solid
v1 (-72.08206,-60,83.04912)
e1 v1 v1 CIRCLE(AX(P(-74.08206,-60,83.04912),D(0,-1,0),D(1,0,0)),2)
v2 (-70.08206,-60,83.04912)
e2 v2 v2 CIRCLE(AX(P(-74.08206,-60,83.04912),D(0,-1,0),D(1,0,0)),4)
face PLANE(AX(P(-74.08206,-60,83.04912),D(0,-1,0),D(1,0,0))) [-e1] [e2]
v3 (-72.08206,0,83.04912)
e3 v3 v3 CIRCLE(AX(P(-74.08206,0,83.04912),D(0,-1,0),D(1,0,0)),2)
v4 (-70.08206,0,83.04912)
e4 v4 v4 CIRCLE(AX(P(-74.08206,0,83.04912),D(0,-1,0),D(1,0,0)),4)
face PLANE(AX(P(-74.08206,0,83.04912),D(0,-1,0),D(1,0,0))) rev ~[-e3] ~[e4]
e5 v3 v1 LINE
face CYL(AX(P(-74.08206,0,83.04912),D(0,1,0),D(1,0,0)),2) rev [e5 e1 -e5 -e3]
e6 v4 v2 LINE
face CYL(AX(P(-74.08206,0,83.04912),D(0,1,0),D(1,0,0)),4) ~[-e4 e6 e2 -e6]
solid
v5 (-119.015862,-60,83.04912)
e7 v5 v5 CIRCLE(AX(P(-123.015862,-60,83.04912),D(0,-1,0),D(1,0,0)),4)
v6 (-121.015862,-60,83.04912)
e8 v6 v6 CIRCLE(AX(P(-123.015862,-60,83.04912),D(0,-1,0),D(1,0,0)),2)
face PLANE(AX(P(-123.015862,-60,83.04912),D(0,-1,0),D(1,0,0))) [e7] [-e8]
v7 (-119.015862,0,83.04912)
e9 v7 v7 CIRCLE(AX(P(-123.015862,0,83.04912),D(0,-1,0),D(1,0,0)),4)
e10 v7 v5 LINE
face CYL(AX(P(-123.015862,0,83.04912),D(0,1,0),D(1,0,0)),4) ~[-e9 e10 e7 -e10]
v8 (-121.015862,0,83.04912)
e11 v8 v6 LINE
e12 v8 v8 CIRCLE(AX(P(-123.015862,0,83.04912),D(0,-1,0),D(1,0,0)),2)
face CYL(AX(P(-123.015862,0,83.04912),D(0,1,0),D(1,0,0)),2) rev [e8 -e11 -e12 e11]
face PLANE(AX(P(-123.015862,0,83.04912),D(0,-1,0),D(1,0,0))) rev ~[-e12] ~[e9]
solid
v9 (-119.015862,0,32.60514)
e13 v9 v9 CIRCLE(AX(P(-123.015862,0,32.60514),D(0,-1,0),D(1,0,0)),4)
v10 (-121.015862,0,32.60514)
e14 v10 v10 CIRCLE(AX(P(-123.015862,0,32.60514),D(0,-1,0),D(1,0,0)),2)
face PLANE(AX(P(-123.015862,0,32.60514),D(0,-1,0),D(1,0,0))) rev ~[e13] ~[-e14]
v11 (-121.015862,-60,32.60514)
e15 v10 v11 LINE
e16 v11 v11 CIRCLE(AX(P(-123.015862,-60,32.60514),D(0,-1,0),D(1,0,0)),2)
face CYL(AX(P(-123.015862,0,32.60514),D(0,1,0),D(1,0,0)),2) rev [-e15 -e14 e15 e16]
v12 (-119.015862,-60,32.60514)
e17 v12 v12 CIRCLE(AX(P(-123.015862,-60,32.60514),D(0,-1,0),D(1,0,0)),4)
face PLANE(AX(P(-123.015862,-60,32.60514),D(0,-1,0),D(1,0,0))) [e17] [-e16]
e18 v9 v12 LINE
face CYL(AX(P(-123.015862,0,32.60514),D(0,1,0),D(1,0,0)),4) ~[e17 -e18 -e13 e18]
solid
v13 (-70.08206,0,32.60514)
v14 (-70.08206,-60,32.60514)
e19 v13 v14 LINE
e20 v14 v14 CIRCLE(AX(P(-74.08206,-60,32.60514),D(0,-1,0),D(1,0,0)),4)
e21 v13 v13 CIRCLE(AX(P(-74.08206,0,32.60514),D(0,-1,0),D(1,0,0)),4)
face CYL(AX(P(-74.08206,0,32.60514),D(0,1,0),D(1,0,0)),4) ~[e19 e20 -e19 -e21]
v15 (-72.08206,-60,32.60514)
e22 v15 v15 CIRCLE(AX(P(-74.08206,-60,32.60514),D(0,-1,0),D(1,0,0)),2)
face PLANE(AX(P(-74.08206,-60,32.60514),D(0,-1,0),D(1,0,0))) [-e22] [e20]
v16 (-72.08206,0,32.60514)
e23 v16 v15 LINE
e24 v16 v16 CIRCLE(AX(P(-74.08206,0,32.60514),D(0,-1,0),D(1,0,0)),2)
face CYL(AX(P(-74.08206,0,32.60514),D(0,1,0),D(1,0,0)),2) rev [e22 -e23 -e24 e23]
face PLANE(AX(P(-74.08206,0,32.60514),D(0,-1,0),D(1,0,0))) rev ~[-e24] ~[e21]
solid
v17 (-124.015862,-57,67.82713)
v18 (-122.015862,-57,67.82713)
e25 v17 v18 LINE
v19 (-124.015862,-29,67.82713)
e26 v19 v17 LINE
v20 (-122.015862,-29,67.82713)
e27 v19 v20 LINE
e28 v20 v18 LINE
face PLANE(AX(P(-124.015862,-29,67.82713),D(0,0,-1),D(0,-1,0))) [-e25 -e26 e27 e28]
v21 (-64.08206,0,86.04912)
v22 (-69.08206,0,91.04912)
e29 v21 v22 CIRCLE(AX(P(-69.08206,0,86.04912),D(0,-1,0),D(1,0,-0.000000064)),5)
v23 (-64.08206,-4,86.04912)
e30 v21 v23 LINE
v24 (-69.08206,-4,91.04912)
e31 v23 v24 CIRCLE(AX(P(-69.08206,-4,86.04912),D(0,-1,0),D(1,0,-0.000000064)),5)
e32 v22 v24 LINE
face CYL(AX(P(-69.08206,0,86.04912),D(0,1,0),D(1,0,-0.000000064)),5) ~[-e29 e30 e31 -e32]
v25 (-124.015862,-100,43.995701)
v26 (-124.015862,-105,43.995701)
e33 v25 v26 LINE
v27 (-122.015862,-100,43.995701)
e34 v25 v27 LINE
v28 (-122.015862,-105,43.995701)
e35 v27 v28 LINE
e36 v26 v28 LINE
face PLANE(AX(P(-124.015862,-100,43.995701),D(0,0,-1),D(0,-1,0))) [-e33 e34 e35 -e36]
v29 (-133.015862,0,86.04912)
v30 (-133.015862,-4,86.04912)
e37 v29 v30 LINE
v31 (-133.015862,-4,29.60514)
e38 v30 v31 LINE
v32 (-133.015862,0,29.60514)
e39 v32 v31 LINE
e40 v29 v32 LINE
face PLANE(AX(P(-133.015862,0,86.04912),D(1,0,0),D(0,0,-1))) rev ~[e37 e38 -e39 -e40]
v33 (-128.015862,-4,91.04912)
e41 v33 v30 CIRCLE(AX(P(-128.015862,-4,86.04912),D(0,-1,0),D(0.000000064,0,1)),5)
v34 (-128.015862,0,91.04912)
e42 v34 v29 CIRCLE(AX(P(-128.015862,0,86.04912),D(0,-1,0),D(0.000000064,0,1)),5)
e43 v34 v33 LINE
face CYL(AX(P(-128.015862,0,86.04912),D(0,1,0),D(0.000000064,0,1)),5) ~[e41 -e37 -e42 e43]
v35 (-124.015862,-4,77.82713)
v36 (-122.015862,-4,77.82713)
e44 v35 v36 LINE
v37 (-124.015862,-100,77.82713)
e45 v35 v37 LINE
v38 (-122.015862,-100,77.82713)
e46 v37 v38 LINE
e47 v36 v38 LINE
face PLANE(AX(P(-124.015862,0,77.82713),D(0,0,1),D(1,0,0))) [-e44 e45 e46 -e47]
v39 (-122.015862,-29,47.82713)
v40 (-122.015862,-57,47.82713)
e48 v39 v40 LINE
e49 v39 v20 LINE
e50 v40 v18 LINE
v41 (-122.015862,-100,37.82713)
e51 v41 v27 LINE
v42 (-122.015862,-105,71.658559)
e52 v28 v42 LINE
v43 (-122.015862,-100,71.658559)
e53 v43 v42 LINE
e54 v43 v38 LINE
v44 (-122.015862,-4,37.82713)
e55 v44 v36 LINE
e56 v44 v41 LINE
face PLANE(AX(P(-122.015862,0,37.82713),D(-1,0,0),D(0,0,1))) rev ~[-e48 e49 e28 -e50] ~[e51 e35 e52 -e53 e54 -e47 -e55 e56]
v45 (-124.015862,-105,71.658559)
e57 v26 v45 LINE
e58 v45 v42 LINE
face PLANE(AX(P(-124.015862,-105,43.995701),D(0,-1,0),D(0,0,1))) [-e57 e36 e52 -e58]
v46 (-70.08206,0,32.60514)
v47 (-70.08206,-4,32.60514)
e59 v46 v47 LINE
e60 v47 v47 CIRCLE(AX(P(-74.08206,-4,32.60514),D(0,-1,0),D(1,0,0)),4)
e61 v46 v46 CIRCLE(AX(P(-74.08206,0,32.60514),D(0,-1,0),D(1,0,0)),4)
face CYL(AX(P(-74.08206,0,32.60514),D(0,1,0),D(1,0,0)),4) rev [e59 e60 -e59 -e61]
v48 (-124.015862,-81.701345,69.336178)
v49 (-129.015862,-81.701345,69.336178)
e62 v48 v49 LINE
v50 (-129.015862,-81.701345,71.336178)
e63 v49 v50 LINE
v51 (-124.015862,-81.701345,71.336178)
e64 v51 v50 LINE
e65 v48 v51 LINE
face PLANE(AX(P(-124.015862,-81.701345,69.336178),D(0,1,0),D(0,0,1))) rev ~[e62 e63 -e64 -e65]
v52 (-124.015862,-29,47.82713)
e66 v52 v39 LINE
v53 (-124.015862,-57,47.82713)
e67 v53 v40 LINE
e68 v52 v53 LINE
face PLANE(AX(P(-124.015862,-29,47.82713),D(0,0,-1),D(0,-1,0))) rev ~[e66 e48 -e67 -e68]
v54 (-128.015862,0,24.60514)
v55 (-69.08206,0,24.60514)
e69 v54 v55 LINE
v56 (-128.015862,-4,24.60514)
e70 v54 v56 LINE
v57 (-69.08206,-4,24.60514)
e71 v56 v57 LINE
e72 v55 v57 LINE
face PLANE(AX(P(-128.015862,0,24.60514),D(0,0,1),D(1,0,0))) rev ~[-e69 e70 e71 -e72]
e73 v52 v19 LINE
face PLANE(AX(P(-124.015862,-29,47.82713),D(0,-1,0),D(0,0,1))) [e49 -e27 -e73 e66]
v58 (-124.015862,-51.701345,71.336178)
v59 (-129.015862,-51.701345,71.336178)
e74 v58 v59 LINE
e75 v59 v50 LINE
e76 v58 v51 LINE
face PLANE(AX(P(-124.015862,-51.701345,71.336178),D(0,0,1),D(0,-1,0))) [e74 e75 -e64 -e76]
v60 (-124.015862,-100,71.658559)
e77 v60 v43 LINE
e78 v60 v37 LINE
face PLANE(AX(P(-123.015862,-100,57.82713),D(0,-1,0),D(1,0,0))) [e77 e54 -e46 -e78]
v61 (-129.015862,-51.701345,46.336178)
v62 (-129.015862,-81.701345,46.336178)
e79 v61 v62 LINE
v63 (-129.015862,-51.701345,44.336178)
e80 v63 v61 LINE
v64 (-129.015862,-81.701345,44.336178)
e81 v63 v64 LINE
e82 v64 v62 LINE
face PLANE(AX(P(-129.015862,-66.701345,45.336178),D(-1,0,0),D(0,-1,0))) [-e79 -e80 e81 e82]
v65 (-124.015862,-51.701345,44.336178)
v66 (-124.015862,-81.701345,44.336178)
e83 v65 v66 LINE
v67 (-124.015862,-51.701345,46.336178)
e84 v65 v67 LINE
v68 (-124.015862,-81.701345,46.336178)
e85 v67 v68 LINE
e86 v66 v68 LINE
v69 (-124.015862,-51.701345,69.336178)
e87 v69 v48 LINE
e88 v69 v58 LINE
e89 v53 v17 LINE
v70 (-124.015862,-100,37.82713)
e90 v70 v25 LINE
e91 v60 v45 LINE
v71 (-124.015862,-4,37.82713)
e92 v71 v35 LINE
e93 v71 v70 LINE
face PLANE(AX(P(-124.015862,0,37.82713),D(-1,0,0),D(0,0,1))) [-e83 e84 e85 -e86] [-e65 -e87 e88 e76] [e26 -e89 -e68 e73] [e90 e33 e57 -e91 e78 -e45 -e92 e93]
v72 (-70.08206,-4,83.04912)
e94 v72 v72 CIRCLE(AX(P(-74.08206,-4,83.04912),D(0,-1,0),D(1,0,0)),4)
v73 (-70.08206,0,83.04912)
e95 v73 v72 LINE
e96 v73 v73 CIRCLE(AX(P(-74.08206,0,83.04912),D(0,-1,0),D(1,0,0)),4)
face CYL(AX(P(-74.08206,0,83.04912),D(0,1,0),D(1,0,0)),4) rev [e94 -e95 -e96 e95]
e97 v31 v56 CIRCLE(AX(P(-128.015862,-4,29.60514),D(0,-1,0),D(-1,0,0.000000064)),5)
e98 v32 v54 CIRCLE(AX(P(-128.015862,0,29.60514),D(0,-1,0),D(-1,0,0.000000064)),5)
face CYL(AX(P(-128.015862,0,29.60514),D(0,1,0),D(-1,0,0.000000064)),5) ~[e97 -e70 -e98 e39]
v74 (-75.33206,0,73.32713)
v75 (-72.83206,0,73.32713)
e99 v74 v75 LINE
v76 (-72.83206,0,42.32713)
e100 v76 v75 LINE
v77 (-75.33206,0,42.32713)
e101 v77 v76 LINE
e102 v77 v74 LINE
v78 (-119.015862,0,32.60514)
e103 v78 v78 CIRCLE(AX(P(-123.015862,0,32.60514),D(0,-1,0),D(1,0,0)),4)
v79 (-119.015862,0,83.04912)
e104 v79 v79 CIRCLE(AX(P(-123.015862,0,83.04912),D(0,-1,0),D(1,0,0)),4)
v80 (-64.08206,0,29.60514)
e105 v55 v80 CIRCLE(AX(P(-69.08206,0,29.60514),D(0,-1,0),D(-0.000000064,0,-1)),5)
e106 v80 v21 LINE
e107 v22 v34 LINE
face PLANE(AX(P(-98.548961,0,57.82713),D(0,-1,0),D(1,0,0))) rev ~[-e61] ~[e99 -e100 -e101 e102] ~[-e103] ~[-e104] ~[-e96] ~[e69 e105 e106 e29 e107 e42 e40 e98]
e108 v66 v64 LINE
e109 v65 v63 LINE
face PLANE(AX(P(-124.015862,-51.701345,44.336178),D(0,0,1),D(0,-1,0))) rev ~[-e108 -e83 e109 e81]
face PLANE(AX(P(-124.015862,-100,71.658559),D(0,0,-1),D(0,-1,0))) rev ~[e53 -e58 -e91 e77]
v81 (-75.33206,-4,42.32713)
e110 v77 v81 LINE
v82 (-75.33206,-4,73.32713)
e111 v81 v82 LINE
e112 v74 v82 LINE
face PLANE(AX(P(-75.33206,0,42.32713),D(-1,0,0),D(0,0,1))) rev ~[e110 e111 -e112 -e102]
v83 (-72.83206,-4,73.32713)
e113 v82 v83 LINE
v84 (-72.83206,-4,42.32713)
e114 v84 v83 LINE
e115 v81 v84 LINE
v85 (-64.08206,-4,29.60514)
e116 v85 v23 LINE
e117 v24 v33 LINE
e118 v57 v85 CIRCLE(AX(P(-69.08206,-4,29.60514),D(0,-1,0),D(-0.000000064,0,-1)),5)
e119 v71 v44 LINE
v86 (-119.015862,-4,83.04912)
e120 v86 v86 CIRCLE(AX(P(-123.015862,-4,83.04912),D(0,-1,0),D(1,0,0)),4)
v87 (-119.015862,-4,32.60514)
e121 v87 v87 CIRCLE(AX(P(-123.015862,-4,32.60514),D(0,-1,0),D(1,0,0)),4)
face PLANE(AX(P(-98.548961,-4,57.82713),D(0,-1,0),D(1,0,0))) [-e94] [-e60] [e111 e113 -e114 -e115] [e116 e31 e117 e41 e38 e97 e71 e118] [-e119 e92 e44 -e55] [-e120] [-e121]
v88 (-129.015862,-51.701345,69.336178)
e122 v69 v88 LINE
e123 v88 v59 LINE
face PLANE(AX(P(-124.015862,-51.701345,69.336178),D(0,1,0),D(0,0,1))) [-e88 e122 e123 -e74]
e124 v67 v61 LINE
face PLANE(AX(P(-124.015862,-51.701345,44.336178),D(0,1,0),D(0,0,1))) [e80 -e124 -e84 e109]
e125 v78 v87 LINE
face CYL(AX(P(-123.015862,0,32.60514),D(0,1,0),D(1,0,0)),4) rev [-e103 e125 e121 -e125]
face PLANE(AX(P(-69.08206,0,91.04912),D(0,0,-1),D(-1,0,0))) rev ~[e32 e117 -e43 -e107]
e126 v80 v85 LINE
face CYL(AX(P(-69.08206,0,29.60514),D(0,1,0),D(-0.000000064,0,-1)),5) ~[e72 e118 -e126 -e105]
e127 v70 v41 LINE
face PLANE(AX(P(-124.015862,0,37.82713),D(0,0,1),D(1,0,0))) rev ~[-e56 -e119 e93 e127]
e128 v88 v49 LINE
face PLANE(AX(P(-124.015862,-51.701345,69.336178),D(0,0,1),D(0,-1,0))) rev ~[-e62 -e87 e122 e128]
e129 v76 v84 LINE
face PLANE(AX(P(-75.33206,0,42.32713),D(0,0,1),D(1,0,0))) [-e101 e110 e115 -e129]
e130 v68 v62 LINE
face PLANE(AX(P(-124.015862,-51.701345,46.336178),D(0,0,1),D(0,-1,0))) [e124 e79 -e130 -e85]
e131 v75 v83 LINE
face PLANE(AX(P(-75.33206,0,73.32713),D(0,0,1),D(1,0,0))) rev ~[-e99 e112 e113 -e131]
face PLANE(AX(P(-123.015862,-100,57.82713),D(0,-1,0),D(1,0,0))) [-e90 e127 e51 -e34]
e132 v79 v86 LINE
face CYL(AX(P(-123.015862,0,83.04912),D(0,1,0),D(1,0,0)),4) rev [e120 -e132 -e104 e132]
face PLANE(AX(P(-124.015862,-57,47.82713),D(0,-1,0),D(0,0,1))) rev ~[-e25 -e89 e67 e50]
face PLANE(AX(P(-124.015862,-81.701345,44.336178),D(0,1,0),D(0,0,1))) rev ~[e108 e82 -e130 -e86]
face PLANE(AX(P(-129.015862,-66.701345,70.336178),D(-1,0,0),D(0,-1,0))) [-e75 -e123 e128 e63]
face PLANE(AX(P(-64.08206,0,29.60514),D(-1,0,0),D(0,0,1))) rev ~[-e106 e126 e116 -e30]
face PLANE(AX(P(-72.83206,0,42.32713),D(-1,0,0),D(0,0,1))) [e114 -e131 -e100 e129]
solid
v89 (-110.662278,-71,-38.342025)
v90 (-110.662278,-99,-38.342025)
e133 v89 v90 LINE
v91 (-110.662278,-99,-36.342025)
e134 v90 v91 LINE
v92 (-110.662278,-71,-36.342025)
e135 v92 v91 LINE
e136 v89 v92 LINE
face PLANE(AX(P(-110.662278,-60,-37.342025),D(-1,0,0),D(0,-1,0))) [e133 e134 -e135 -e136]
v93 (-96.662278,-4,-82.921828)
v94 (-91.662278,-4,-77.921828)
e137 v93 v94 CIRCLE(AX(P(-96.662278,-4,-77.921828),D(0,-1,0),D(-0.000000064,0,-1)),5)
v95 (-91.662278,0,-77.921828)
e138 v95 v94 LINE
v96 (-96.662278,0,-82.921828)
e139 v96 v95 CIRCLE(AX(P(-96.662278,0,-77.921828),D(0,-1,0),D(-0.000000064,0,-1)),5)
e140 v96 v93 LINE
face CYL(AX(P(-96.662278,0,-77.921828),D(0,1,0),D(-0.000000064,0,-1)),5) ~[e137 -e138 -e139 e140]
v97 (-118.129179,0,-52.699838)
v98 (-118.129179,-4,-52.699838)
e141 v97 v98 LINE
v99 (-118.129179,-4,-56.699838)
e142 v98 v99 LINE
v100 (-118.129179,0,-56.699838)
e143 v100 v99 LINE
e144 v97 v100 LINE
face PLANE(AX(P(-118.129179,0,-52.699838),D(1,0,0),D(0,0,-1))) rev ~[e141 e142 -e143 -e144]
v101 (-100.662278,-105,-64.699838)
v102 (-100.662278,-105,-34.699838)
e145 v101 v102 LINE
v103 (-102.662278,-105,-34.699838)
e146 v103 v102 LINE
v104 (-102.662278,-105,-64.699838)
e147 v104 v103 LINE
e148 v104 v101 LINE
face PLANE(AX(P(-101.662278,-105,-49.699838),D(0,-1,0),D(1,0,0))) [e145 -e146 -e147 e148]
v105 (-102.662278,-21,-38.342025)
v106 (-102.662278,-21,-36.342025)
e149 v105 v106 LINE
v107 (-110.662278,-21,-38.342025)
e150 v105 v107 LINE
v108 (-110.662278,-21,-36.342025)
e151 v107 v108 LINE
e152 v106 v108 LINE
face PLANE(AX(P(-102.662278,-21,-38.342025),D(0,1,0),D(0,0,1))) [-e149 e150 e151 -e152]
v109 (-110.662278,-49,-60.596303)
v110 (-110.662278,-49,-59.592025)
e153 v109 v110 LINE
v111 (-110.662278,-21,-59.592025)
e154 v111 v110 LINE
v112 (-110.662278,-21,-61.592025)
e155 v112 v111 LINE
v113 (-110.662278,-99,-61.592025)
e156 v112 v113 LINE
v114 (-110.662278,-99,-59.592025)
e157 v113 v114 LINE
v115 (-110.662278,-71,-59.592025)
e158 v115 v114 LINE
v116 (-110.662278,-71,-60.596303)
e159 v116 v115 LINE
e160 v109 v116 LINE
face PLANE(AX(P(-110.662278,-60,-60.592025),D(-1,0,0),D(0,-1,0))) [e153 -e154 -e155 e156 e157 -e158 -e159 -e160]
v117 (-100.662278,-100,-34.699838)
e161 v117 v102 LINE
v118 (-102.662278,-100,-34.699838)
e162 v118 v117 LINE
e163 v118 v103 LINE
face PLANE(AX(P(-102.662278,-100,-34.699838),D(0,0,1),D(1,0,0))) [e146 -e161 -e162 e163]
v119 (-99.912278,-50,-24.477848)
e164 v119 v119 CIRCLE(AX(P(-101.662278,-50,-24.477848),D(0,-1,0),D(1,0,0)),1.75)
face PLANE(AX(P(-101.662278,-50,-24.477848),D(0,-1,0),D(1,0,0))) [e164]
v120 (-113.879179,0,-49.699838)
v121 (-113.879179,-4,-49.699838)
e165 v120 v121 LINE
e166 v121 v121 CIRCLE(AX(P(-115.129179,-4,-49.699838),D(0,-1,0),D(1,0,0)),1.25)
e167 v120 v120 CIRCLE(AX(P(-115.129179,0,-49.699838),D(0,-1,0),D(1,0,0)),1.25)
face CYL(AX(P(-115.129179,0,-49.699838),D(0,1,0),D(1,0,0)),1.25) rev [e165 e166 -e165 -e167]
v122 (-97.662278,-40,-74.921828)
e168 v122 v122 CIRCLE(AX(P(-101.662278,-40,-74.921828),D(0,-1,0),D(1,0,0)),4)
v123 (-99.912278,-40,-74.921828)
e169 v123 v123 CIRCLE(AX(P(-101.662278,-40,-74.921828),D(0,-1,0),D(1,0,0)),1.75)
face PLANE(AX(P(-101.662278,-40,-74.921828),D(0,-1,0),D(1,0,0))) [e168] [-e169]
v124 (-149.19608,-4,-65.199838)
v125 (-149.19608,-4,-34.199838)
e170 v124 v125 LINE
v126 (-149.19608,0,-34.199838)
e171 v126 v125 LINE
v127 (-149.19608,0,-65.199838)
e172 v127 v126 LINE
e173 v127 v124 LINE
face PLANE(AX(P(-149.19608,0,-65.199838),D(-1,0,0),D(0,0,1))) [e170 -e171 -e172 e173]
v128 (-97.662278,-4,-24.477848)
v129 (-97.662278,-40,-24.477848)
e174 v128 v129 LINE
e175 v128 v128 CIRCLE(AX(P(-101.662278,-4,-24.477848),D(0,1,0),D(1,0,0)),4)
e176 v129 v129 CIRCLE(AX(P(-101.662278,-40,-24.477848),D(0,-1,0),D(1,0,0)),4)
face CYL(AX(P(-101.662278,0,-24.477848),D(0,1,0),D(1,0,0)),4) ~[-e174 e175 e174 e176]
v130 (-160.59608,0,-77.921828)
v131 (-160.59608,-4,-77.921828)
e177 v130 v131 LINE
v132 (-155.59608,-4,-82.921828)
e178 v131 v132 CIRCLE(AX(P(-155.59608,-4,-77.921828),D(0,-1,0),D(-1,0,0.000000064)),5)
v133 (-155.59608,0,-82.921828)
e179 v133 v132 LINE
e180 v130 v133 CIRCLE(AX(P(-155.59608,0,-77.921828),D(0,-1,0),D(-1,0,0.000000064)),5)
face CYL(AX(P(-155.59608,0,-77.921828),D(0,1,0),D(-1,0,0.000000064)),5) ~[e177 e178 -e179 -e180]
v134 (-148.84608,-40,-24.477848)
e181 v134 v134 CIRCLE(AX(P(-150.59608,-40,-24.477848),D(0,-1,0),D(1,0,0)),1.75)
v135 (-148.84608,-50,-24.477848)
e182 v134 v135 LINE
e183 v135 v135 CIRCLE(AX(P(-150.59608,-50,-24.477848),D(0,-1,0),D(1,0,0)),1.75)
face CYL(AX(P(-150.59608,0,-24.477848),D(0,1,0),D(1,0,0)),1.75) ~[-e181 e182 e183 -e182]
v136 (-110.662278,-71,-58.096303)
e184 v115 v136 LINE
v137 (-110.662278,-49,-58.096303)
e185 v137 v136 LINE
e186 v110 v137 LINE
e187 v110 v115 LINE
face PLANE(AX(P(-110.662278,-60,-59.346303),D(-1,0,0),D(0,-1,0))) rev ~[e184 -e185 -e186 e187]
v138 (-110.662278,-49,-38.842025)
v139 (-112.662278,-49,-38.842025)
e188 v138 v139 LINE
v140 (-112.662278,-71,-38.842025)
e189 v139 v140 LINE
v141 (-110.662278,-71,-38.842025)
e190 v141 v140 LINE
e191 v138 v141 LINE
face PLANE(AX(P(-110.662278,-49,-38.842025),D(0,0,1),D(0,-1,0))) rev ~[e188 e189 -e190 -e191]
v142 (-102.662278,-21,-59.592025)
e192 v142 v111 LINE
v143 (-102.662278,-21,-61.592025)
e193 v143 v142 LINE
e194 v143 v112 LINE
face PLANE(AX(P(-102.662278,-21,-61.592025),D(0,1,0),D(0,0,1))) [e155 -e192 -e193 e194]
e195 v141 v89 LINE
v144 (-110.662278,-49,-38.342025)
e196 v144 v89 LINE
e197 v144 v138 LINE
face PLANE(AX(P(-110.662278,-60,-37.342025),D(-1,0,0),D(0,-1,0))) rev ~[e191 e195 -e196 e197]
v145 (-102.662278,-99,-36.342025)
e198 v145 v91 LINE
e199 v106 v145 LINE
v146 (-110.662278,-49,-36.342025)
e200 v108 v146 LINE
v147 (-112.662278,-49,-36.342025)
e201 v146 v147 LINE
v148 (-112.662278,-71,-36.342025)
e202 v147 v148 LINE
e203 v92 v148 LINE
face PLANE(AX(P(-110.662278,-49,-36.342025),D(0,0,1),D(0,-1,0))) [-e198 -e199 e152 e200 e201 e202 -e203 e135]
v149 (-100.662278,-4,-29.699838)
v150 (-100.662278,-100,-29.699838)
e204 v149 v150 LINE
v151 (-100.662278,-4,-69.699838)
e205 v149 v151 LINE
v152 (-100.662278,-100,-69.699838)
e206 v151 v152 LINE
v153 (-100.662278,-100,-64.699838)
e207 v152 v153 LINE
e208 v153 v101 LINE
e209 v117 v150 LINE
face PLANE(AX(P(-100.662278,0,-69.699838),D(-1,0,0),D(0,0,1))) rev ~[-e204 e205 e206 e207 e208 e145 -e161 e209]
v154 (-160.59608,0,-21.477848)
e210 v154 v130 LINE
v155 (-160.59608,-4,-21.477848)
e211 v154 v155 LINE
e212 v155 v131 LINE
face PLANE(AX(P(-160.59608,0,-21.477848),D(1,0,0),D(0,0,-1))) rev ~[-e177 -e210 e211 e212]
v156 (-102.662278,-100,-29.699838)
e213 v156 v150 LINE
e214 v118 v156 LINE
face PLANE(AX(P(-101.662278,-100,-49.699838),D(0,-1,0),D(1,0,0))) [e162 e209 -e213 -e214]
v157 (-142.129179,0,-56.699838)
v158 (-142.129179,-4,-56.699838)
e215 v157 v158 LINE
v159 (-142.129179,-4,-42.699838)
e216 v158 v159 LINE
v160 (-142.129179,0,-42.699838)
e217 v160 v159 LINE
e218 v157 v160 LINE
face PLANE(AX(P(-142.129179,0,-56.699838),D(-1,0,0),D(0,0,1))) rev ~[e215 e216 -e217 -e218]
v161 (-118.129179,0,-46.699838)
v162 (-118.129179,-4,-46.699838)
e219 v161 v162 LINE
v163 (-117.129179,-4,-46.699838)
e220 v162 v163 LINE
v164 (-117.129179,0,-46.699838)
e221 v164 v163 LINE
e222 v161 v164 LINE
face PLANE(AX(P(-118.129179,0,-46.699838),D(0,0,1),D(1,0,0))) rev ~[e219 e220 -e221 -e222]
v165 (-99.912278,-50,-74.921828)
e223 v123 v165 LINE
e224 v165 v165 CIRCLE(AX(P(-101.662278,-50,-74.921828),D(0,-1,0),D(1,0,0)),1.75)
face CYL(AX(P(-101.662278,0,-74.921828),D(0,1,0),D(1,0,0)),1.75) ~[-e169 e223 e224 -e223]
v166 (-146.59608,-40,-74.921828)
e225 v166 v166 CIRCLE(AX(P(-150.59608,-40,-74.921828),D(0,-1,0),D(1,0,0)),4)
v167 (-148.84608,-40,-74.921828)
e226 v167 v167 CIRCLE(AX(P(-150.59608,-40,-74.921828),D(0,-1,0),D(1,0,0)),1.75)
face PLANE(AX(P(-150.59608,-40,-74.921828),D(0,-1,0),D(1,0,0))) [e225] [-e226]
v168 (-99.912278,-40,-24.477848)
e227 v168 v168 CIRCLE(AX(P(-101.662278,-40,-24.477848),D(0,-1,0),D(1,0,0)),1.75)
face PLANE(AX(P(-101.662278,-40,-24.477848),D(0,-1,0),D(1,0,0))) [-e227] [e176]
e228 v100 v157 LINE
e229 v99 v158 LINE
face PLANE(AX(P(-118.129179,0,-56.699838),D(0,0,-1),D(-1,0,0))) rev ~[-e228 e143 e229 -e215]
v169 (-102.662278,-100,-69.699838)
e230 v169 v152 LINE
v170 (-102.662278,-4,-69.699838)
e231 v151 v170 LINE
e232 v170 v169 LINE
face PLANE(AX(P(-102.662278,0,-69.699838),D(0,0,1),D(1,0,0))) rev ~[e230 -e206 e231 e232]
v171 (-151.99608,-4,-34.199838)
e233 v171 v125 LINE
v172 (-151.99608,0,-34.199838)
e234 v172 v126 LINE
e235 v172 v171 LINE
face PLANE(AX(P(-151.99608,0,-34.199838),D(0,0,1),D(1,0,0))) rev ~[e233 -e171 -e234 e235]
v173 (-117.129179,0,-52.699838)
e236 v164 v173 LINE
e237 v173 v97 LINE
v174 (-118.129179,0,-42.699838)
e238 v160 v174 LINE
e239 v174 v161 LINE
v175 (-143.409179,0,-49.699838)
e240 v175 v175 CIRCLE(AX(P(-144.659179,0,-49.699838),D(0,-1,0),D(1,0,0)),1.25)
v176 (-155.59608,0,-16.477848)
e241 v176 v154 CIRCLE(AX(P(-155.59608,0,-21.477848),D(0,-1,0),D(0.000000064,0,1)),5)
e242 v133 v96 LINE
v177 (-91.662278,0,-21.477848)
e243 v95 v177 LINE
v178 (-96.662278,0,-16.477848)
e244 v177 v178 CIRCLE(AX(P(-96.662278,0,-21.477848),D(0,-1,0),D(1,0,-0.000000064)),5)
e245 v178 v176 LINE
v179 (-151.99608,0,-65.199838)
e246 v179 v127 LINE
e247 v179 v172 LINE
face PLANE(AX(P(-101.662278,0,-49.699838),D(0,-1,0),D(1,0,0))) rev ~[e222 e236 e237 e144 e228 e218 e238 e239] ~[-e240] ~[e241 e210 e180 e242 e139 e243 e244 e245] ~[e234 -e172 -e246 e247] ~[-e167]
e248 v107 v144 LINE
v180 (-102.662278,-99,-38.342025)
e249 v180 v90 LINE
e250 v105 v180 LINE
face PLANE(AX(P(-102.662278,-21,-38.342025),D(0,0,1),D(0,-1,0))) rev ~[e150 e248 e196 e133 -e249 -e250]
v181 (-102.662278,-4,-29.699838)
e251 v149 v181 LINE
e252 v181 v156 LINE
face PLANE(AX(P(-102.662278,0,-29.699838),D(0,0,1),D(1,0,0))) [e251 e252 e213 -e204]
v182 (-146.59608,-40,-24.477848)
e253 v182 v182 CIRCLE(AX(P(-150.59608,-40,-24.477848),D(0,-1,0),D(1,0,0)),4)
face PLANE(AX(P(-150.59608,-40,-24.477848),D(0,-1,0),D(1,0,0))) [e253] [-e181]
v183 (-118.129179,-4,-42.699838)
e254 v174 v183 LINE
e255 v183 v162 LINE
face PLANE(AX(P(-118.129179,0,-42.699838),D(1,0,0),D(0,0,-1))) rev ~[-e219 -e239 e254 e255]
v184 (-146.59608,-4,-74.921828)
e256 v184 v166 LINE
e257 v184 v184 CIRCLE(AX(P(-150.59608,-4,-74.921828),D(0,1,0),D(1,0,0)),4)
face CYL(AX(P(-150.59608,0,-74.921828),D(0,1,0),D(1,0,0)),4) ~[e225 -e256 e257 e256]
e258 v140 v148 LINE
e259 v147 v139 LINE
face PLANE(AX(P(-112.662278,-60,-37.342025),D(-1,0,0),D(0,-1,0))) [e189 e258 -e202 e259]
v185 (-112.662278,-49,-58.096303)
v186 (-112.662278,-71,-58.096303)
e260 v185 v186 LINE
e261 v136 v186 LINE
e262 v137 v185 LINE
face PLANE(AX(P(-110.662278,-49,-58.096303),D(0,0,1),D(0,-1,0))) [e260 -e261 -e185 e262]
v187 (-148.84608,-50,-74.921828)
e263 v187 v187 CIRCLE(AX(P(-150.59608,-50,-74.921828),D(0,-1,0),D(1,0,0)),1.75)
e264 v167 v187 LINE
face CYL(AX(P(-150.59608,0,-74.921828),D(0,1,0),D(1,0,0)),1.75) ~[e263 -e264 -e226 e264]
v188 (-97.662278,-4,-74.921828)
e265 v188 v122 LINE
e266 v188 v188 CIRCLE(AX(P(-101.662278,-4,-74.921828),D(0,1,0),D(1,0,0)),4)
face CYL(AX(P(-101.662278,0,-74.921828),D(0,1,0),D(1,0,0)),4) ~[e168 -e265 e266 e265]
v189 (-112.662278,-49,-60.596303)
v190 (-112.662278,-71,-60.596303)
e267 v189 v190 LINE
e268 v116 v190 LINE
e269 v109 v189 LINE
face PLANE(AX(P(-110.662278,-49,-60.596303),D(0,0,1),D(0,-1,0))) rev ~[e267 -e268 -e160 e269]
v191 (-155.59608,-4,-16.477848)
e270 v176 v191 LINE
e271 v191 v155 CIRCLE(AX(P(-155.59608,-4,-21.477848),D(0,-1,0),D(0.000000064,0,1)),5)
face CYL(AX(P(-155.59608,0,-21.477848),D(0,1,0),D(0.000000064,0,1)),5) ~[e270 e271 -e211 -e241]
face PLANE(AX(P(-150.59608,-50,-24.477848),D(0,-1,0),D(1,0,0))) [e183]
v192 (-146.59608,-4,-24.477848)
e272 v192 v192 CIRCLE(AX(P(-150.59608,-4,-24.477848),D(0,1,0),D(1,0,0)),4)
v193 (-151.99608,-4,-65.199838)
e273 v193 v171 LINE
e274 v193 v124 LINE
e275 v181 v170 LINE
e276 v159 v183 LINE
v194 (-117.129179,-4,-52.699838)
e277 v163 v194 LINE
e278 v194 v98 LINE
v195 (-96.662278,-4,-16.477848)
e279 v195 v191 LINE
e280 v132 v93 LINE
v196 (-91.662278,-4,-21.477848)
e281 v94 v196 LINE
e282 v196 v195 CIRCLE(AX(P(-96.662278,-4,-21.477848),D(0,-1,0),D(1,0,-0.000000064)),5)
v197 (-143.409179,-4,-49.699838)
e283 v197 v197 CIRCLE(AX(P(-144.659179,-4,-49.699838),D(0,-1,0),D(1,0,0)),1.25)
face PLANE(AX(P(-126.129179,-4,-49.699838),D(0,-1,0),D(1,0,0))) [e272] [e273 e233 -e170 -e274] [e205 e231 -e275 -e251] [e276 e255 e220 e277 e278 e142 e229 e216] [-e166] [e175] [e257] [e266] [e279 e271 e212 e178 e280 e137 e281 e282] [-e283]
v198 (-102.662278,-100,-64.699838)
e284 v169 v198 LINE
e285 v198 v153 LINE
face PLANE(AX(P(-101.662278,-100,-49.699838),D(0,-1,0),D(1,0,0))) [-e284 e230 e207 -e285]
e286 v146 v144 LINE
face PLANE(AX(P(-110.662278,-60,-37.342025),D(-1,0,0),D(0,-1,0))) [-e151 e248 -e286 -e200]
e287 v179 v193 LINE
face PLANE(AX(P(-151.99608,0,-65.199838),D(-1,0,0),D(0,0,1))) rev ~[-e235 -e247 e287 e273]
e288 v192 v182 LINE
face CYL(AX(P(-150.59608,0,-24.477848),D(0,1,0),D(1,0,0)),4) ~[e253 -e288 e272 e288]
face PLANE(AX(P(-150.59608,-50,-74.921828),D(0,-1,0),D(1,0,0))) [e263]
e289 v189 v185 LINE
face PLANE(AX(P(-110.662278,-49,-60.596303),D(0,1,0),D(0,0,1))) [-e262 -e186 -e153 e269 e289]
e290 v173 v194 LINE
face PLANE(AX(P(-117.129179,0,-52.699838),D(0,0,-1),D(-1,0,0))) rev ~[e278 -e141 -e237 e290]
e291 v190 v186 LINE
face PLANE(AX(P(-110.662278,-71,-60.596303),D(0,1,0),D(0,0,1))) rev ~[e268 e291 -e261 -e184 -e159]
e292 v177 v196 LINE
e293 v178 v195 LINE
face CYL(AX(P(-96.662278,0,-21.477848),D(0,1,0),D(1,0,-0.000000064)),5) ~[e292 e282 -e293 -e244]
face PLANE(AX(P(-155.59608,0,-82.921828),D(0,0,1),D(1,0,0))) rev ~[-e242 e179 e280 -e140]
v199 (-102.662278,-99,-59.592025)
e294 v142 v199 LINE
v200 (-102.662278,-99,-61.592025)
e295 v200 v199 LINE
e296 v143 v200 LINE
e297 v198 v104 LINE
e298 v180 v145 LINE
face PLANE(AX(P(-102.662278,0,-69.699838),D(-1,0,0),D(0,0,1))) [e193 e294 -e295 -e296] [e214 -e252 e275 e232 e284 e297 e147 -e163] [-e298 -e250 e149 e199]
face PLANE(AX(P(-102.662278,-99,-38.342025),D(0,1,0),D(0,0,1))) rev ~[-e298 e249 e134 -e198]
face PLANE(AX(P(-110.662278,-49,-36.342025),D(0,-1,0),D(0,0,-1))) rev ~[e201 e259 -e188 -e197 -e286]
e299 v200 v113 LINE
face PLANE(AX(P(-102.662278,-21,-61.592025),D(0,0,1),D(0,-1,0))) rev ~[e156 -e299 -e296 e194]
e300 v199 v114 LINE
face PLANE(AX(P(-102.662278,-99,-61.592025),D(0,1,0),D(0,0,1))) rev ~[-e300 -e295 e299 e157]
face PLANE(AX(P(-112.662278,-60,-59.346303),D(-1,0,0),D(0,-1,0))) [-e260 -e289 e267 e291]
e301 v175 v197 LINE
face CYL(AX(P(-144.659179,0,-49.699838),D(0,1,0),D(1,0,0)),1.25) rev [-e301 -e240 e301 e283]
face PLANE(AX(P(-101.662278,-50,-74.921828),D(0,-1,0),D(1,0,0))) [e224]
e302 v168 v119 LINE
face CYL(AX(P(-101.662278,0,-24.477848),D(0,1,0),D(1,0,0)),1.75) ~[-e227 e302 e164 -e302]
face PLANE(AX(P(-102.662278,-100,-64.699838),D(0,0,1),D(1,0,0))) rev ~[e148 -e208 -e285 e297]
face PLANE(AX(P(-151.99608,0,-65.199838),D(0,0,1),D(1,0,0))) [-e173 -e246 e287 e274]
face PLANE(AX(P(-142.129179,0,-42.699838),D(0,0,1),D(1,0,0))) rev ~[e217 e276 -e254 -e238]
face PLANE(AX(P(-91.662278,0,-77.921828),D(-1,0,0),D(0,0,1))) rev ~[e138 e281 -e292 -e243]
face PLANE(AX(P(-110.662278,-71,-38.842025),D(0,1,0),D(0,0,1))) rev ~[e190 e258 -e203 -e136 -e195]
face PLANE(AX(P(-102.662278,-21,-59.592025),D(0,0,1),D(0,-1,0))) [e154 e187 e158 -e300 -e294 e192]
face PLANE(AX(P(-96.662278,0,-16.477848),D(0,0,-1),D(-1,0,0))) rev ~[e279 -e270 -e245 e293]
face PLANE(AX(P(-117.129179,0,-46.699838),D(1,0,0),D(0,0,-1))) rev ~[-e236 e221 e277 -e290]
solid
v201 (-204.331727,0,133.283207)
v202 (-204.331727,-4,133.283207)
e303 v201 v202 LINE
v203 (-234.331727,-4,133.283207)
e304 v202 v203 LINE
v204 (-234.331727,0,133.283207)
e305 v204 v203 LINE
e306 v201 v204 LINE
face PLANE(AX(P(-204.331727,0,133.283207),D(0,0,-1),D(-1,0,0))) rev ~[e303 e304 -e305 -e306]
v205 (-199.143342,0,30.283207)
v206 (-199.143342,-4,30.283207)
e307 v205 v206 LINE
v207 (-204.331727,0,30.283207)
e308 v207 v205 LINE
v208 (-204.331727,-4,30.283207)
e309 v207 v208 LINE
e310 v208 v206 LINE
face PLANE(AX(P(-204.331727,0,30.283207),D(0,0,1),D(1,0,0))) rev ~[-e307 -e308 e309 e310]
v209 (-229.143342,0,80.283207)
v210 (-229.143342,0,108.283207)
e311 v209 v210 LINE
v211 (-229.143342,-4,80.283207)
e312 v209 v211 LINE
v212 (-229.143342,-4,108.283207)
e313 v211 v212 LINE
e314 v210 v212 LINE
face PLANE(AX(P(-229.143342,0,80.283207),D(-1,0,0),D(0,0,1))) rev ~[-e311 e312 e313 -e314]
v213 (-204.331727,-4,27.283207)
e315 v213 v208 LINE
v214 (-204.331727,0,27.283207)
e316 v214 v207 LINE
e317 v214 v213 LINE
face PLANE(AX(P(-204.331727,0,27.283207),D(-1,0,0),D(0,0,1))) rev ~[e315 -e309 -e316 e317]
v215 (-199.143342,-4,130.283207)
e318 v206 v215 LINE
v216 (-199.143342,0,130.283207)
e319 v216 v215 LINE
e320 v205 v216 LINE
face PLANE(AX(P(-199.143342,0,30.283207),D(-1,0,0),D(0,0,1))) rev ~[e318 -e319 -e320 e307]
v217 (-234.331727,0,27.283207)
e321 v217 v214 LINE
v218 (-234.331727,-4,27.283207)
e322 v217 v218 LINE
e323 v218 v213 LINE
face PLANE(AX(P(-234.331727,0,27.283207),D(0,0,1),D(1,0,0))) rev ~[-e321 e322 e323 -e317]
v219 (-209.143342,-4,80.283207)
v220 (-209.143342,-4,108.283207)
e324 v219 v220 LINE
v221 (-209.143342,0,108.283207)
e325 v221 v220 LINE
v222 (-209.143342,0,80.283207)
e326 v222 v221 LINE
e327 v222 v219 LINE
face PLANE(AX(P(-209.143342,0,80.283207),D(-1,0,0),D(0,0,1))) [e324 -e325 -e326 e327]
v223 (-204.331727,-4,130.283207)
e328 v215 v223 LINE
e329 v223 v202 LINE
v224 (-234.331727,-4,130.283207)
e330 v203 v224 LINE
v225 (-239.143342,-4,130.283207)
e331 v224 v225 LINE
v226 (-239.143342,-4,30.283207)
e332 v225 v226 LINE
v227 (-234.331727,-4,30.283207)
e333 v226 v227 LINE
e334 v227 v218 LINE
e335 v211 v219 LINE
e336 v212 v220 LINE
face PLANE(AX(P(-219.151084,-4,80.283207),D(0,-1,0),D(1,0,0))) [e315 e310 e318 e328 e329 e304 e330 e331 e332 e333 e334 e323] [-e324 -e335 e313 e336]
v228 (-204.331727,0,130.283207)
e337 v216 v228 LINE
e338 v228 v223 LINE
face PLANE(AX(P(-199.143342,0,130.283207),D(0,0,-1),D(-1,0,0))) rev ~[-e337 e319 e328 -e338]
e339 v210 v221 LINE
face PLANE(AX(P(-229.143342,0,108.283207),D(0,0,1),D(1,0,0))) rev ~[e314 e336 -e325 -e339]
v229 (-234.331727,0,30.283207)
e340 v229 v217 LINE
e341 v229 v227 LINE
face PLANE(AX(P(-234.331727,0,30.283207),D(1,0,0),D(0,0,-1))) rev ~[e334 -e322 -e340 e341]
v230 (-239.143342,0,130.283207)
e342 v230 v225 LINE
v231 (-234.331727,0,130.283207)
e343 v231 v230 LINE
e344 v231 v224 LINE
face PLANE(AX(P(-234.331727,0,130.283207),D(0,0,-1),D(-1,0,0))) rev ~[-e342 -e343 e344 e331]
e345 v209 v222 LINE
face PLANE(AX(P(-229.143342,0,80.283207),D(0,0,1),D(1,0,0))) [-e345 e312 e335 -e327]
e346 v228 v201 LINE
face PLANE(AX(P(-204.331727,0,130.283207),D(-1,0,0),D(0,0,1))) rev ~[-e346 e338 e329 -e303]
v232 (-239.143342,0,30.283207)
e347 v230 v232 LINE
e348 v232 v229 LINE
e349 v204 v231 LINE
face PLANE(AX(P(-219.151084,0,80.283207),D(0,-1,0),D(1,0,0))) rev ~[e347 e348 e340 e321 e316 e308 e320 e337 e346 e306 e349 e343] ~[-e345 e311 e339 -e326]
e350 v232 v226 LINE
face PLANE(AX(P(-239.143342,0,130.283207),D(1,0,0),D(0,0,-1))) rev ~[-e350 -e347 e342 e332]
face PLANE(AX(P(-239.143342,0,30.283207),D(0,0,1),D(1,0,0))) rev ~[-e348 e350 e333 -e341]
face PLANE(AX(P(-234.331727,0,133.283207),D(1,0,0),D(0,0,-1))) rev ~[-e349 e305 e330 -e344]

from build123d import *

# Parameters (mm, degrees)
F0_R      = 4
F0_R_2    = 2
F1_DEPTH  = 60
F0_W      = 20
F0_H      = 28
F0_W_2    = 2
F0_H_2    = 40
F0_W_3    = 2.5
F0_H_3    = 31
F0_W_4    = 2.8
F0_R_3    = 1.25
F0_R_4    = 1.75
F2_DEPTH  = 4
F3_DEPTH  = 100
F4_W      = 30
F4_H      = 2
F5_DEPTH  = 5
F4_W_2    = 5
F4_H_2    = 27.662858
F6_DEPTH  = 2
F4_W_3    = 28
F4_H_3    = 20
F7_DEPTH  = 2
F8_DEPTH  = 50
F9_DEPTH  = 40
F10_DEPTH = 100
F11_W     = 78
F11_H     = 2
F12_DEPTH = 8
F13_W     = 2
F13_H     = 30
F14_DEPTH = 5
F15_W     = 22
F15_H     = 2
F15_H_2   = 0.5
F15_H_3   = 2.5
F16_DEPTH = 2


with BuildPart() as f1:
    # F0 (on Front) → F1 (new body)
    with BuildSketch(Plane.XZ):
        with Locations((-123.015862, 83.04912)):
            Circle(F0_R)
        with Locations((-123.015862, 83.04912)):
            Circle(F0_R_2, mode=Mode.SUBTRACT)
        with Locations((-74.08206, 83.04912)):
            Circle(F0_R)
        with Locations((-74.08206, 83.04912)):
            Circle(F0_R_2, mode=Mode.SUBTRACT)
        with Locations((-74.08206, 32.60514)):
            Circle(F0_R)
        with Locations((-74.08206, 32.60514)):
            Circle(F0_R_2, mode=Mode.SUBTRACT)
        with Locations((-123.015862, 32.60514)):
            Circle(F0_R)
        with Locations((-123.015862, 32.60514)):
            Circle(F0_R_2, mode=Mode.SUBTRACT)
    extrude(amount=F1_DEPTH)


with BuildPart() as f2:
    # F0 (on Front) → F2 (new body)
    with BuildSketch(Plane.XZ):
        Polygon((-204.331727, 30.283207), (-199.143342, 30.283207), (-199.143342, 130.283207), (-204.331727, 130.283207), (-204.331727, 133.283207), (-234.331727, 133.283207), (-234.331727, 130.283207), (-239.143342, 130.283207), (-239.143342, 30.283207), (-234.331727, 30.283207), (-234.331727, 27.283207), (-204.331727, 27.283207), align=None)
        with Locations((-219.143342, 94.283207)):
            Rectangle(F0_W, F0_H, mode=Mode.SUBTRACT)
        with BuildLine():
            ThreePointArc((-64.08206, 86.04912), (-65.546526, 89.584654), (-69.08206, 91.04912))
            Line((-69.08206, 91.04912), (-128.015862, 91.04912))
            ThreePointArc((-128.015862, 91.04912), (-131.551396, 89.584654), (-133.015862, 86.04912))
            Line((-133.015862, 86.04912), (-133.015862, 29.60514))
            ThreePointArc((-133.015862, 29.60514), (-131.551396, 26.069606), (-128.015862, 24.60514))
            Line((-128.015862, 24.60514), (-69.08206, 24.60514))
            ThreePointArc((-69.08206, 24.60514), (-65.546526, 26.069606), (-64.08206, 29.60514))
            Line((-64.08206, 29.60514), (-64.08206, 86.04912))
        make_face()
        with Locations((-123.015862, 32.60514)):
            Circle(F0_R, mode=Mode.SUBTRACT)
        with Locations((-123.015862, 57.82713)):
            Rectangle(F0_W_2, F0_H_2, mode=Mode.SUBTRACT)
        with Locations((-74.08206, 32.60514)):
            Circle(F0_R, mode=Mode.SUBTRACT)
        with Locations((-74.08206, 57.82713)):
            Rectangle(F0_W_3, F0_H_3, mode=Mode.SUBTRACT)
        with Locations((-123.015862, 83.04912)):
            Circle(F0_R, mode=Mode.SUBTRACT)
        with Locations((-74.08206, 83.04912)):
            Circle(F0_R, mode=Mode.SUBTRACT)
        with BuildLine():
            ThreePointArc((-91.662278, -21.477848), (-93.126744, -17.942314), (-96.662278, -16.477848))
            Line((-96.662278, -16.477848), (-155.59608, -16.477848))
            ThreePointArc((-155.59608, -16.477848), (-159.131614, -17.942314), (-160.59608, -21.477848))
            Line((-160.59608, -21.477848), (-160.59608, -77.921828))
            ThreePointArc((-160.59608, -77.921828), (-159.131614, -81.457362), (-155.59608, -82.921828))
            Line((-155.59608, -82.921828), (-96.662278, -82.921828))
            ThreePointArc((-96.662278, -82.921828), (-93.126744, -81.457362), (-91.662278, -77.921828))
            Line((-91.662278, -77.921828), (-91.662278, -21.477848))
        make_face()
        with Locations((-150.59608, -74.921828)):
            Circle(F0_R, mode=Mode.SUBTRACT)
        with Locations((-150.59608, -49.699838)):
            Rectangle(F0_W_4, F0_H_3, mode=Mode.SUBTRACT)
        with Locations((-144.659179, -49.699838)):
            Circle(F0_R_3, mode=Mode.SUBTRACT)
        Polygon((-142.129179, -42.699838), (-118.129179, -42.699838), (-118.129179, -46.699838), (-117.129179, -46.699838), (-117.129179, -52.699838), (-118.129179, -52.699838), (-118.129179, -56.699838), (-142.129179, -56.699838), align=None, mode=Mode.SUBTRACT)
        with Locations((-115.129179, -49.699838)):
            Circle(F0_R_3, mode=Mode.SUBTRACT)
        with Locations((-101.662278, -74.921828)):
            Circle(F0_R, mode=Mode.SUBTRACT)
        with Locations((-101.662278, -49.699838)):
            Rectangle(F0_W_2, F0_H_2, mode=Mode.SUBTRACT)
        with Locations((-150.59608, -24.477848)):
            Circle(F0_R, mode=Mode.SUBTRACT)
        with Locations((-101.662278, -24.477848)):
            Circle(F0_R, mode=Mode.SUBTRACT)
        with Locations((-101.662278, -49.699838)):
            Rectangle(F0_W_2, F0_H_2)
        with Locations((-101.662278, -24.477848)):
            Circle(F0_R)
        with Locations((-101.662278, -24.477848)):
            Circle(F0_R_4, mode=Mode.SUBTRACT)
        with Locations((-150.59608, -24.477848)):
            Circle(F0_R)
        with Locations((-150.59608, -24.477848)):
            Circle(F0_R_4, mode=Mode.SUBTRACT)
        with Locations((-150.59608, -74.921828)):
            Circle(F0_R)
        with Locations((-150.59608, -74.921828)):
            Circle(F0_R_4, mode=Mode.SUBTRACT)
        with Locations((-101.662278, -74.921828)):
            Circle(F0_R)
        with Locations((-101.662278, -74.921828)):
            Circle(F0_R_4, mode=Mode.SUBTRACT)
    extrude(amount=F2_DEPTH)

    # F0 (on Front) → F3 (join)
    with BuildSketch(Plane.XZ):
        with Locations((-123.015862, 57.82713)):
            Rectangle(F0_W_2, F0_H_2)
    extrude(amount=F3_DEPTH)

    # F4 (on face) → F5 (join)
    with BuildSketch(Plane(origin=(-124.015862, 0, 0), x_dir=(0, -1, 0), z_dir=(-1, 0, 0))):
        with Locations((66.701345, 70.336178)):
            Rectangle(F4_W, F4_H)
        with Locations((66.701345, 45.336178)):
            Rectangle(F4_W, F4_H)
    extrude(amount=F5_DEPTH)

    # F4 (on face) → F6 (join)
    with BuildSketch(Plane(origin=(-124.015862, 0, 0), x_dir=(0, -1, 0), z_dir=(-1, 0, 0))):
        with Locations((102.5, 57.82713)):
            Rectangle(F4_W_2, F4_H_2)
    extrude(amount=-F6_DEPTH)

    # F4 (on face) → F7 (cut)
    with BuildSketch(Plane(origin=(-124.015862, 0, 0), x_dir=(0, -1, 0), z_dir=(-1, 0, 0))):
        with Locations((43, 57.82713)):
            Rectangle(F4_W_3, F4_H_3)
    extrude(amount=-F7_DEPTH, mode=Mode.SUBTRACT)

    # F0 (on Front) → F8 (join)
    with BuildSketch(Plane.XZ):
        with Locations((-150.59608, -24.477848)):
            Circle(F0_R_4)
        with Locations((-101.662278, -24.477848)):
            Circle(F0_R_4)
        with Locations((-101.662278, -74.921828)):
            Circle(F0_R_4)
        with Locations((-150.59608, -74.921828)):
            Circle(F0_R_4)
    extrude(amount=F8_DEPTH)

    # F0 (on Front) → F9 (join)
    with BuildSketch(Plane.XZ):
        with Locations((-150.59608, -24.477848)):
            Circle(F0_R)
        with Locations((-150.59608, -24.477848)):
            Circle(F0_R_4, mode=Mode.SUBTRACT)
        with Locations((-150.59608, -74.921828)):
            Circle(F0_R)
        with Locations((-150.59608, -74.921828)):
            Circle(F0_R_4, mode=Mode.SUBTRACT)
        with Locations((-101.662278, -74.921828)):
            Circle(F0_R)
        with Locations((-101.662278, -74.921828)):
            Circle(F0_R_4, mode=Mode.SUBTRACT)
        with Locations((-101.662278, -24.477848)):
            Circle(F0_R)
        with Locations((-101.662278, -24.477848)):
            Circle(F0_R_4, mode=Mode.SUBTRACT)
    extrude(amount=F9_DEPTH)

    # F0 (on Front) → F10 (join)
    with BuildSketch(Plane.XZ):
        with Locations((-101.662278, -49.699838)):
            Rectangle(F0_W_2, F0_H_2)
    extrude(amount=F10_DEPTH)

    # F11 (on face) → F12 (join)
    with BuildSketch(Plane(origin=(-102.662278, 0, 0), x_dir=(0, -1, 0), z_dir=(-1, 0, 0))):
        with Locations((60, -37.342025)):
            Rectangle(F11_W, F11_H)
        with Locations((60, -60.592025)):
            Rectangle(F11_W, F11_H)
    extrude(amount=F12_DEPTH)

    # F13 (on face) → F14 (join)
    with BuildSketch(Plane.XZ.offset(100)):
        with Locations((-101.662278, -49.699838)):
            Rectangle(F13_W, F13_H)
    extrude(amount=F14_DEPTH)

    # F15 (on face) → F16 (join)
    with BuildSketch(Plane(origin=(-110.662278, 0, 0), x_dir=(0, -1, 0), z_dir=(-1, 0, 0))):
        with Locations((60, -37.342025)):
            Rectangle(F15_W, F15_H)
        with Locations((60, -38.592025)):
            Rectangle(F15_W, F15_H_2)
        with Locations((60, -59.346303)):
            Rectangle(F15_W, F15_H_3)
    extrude(amount=F16_DEPTH)


solid = Compound([f1.part, f2.part])
